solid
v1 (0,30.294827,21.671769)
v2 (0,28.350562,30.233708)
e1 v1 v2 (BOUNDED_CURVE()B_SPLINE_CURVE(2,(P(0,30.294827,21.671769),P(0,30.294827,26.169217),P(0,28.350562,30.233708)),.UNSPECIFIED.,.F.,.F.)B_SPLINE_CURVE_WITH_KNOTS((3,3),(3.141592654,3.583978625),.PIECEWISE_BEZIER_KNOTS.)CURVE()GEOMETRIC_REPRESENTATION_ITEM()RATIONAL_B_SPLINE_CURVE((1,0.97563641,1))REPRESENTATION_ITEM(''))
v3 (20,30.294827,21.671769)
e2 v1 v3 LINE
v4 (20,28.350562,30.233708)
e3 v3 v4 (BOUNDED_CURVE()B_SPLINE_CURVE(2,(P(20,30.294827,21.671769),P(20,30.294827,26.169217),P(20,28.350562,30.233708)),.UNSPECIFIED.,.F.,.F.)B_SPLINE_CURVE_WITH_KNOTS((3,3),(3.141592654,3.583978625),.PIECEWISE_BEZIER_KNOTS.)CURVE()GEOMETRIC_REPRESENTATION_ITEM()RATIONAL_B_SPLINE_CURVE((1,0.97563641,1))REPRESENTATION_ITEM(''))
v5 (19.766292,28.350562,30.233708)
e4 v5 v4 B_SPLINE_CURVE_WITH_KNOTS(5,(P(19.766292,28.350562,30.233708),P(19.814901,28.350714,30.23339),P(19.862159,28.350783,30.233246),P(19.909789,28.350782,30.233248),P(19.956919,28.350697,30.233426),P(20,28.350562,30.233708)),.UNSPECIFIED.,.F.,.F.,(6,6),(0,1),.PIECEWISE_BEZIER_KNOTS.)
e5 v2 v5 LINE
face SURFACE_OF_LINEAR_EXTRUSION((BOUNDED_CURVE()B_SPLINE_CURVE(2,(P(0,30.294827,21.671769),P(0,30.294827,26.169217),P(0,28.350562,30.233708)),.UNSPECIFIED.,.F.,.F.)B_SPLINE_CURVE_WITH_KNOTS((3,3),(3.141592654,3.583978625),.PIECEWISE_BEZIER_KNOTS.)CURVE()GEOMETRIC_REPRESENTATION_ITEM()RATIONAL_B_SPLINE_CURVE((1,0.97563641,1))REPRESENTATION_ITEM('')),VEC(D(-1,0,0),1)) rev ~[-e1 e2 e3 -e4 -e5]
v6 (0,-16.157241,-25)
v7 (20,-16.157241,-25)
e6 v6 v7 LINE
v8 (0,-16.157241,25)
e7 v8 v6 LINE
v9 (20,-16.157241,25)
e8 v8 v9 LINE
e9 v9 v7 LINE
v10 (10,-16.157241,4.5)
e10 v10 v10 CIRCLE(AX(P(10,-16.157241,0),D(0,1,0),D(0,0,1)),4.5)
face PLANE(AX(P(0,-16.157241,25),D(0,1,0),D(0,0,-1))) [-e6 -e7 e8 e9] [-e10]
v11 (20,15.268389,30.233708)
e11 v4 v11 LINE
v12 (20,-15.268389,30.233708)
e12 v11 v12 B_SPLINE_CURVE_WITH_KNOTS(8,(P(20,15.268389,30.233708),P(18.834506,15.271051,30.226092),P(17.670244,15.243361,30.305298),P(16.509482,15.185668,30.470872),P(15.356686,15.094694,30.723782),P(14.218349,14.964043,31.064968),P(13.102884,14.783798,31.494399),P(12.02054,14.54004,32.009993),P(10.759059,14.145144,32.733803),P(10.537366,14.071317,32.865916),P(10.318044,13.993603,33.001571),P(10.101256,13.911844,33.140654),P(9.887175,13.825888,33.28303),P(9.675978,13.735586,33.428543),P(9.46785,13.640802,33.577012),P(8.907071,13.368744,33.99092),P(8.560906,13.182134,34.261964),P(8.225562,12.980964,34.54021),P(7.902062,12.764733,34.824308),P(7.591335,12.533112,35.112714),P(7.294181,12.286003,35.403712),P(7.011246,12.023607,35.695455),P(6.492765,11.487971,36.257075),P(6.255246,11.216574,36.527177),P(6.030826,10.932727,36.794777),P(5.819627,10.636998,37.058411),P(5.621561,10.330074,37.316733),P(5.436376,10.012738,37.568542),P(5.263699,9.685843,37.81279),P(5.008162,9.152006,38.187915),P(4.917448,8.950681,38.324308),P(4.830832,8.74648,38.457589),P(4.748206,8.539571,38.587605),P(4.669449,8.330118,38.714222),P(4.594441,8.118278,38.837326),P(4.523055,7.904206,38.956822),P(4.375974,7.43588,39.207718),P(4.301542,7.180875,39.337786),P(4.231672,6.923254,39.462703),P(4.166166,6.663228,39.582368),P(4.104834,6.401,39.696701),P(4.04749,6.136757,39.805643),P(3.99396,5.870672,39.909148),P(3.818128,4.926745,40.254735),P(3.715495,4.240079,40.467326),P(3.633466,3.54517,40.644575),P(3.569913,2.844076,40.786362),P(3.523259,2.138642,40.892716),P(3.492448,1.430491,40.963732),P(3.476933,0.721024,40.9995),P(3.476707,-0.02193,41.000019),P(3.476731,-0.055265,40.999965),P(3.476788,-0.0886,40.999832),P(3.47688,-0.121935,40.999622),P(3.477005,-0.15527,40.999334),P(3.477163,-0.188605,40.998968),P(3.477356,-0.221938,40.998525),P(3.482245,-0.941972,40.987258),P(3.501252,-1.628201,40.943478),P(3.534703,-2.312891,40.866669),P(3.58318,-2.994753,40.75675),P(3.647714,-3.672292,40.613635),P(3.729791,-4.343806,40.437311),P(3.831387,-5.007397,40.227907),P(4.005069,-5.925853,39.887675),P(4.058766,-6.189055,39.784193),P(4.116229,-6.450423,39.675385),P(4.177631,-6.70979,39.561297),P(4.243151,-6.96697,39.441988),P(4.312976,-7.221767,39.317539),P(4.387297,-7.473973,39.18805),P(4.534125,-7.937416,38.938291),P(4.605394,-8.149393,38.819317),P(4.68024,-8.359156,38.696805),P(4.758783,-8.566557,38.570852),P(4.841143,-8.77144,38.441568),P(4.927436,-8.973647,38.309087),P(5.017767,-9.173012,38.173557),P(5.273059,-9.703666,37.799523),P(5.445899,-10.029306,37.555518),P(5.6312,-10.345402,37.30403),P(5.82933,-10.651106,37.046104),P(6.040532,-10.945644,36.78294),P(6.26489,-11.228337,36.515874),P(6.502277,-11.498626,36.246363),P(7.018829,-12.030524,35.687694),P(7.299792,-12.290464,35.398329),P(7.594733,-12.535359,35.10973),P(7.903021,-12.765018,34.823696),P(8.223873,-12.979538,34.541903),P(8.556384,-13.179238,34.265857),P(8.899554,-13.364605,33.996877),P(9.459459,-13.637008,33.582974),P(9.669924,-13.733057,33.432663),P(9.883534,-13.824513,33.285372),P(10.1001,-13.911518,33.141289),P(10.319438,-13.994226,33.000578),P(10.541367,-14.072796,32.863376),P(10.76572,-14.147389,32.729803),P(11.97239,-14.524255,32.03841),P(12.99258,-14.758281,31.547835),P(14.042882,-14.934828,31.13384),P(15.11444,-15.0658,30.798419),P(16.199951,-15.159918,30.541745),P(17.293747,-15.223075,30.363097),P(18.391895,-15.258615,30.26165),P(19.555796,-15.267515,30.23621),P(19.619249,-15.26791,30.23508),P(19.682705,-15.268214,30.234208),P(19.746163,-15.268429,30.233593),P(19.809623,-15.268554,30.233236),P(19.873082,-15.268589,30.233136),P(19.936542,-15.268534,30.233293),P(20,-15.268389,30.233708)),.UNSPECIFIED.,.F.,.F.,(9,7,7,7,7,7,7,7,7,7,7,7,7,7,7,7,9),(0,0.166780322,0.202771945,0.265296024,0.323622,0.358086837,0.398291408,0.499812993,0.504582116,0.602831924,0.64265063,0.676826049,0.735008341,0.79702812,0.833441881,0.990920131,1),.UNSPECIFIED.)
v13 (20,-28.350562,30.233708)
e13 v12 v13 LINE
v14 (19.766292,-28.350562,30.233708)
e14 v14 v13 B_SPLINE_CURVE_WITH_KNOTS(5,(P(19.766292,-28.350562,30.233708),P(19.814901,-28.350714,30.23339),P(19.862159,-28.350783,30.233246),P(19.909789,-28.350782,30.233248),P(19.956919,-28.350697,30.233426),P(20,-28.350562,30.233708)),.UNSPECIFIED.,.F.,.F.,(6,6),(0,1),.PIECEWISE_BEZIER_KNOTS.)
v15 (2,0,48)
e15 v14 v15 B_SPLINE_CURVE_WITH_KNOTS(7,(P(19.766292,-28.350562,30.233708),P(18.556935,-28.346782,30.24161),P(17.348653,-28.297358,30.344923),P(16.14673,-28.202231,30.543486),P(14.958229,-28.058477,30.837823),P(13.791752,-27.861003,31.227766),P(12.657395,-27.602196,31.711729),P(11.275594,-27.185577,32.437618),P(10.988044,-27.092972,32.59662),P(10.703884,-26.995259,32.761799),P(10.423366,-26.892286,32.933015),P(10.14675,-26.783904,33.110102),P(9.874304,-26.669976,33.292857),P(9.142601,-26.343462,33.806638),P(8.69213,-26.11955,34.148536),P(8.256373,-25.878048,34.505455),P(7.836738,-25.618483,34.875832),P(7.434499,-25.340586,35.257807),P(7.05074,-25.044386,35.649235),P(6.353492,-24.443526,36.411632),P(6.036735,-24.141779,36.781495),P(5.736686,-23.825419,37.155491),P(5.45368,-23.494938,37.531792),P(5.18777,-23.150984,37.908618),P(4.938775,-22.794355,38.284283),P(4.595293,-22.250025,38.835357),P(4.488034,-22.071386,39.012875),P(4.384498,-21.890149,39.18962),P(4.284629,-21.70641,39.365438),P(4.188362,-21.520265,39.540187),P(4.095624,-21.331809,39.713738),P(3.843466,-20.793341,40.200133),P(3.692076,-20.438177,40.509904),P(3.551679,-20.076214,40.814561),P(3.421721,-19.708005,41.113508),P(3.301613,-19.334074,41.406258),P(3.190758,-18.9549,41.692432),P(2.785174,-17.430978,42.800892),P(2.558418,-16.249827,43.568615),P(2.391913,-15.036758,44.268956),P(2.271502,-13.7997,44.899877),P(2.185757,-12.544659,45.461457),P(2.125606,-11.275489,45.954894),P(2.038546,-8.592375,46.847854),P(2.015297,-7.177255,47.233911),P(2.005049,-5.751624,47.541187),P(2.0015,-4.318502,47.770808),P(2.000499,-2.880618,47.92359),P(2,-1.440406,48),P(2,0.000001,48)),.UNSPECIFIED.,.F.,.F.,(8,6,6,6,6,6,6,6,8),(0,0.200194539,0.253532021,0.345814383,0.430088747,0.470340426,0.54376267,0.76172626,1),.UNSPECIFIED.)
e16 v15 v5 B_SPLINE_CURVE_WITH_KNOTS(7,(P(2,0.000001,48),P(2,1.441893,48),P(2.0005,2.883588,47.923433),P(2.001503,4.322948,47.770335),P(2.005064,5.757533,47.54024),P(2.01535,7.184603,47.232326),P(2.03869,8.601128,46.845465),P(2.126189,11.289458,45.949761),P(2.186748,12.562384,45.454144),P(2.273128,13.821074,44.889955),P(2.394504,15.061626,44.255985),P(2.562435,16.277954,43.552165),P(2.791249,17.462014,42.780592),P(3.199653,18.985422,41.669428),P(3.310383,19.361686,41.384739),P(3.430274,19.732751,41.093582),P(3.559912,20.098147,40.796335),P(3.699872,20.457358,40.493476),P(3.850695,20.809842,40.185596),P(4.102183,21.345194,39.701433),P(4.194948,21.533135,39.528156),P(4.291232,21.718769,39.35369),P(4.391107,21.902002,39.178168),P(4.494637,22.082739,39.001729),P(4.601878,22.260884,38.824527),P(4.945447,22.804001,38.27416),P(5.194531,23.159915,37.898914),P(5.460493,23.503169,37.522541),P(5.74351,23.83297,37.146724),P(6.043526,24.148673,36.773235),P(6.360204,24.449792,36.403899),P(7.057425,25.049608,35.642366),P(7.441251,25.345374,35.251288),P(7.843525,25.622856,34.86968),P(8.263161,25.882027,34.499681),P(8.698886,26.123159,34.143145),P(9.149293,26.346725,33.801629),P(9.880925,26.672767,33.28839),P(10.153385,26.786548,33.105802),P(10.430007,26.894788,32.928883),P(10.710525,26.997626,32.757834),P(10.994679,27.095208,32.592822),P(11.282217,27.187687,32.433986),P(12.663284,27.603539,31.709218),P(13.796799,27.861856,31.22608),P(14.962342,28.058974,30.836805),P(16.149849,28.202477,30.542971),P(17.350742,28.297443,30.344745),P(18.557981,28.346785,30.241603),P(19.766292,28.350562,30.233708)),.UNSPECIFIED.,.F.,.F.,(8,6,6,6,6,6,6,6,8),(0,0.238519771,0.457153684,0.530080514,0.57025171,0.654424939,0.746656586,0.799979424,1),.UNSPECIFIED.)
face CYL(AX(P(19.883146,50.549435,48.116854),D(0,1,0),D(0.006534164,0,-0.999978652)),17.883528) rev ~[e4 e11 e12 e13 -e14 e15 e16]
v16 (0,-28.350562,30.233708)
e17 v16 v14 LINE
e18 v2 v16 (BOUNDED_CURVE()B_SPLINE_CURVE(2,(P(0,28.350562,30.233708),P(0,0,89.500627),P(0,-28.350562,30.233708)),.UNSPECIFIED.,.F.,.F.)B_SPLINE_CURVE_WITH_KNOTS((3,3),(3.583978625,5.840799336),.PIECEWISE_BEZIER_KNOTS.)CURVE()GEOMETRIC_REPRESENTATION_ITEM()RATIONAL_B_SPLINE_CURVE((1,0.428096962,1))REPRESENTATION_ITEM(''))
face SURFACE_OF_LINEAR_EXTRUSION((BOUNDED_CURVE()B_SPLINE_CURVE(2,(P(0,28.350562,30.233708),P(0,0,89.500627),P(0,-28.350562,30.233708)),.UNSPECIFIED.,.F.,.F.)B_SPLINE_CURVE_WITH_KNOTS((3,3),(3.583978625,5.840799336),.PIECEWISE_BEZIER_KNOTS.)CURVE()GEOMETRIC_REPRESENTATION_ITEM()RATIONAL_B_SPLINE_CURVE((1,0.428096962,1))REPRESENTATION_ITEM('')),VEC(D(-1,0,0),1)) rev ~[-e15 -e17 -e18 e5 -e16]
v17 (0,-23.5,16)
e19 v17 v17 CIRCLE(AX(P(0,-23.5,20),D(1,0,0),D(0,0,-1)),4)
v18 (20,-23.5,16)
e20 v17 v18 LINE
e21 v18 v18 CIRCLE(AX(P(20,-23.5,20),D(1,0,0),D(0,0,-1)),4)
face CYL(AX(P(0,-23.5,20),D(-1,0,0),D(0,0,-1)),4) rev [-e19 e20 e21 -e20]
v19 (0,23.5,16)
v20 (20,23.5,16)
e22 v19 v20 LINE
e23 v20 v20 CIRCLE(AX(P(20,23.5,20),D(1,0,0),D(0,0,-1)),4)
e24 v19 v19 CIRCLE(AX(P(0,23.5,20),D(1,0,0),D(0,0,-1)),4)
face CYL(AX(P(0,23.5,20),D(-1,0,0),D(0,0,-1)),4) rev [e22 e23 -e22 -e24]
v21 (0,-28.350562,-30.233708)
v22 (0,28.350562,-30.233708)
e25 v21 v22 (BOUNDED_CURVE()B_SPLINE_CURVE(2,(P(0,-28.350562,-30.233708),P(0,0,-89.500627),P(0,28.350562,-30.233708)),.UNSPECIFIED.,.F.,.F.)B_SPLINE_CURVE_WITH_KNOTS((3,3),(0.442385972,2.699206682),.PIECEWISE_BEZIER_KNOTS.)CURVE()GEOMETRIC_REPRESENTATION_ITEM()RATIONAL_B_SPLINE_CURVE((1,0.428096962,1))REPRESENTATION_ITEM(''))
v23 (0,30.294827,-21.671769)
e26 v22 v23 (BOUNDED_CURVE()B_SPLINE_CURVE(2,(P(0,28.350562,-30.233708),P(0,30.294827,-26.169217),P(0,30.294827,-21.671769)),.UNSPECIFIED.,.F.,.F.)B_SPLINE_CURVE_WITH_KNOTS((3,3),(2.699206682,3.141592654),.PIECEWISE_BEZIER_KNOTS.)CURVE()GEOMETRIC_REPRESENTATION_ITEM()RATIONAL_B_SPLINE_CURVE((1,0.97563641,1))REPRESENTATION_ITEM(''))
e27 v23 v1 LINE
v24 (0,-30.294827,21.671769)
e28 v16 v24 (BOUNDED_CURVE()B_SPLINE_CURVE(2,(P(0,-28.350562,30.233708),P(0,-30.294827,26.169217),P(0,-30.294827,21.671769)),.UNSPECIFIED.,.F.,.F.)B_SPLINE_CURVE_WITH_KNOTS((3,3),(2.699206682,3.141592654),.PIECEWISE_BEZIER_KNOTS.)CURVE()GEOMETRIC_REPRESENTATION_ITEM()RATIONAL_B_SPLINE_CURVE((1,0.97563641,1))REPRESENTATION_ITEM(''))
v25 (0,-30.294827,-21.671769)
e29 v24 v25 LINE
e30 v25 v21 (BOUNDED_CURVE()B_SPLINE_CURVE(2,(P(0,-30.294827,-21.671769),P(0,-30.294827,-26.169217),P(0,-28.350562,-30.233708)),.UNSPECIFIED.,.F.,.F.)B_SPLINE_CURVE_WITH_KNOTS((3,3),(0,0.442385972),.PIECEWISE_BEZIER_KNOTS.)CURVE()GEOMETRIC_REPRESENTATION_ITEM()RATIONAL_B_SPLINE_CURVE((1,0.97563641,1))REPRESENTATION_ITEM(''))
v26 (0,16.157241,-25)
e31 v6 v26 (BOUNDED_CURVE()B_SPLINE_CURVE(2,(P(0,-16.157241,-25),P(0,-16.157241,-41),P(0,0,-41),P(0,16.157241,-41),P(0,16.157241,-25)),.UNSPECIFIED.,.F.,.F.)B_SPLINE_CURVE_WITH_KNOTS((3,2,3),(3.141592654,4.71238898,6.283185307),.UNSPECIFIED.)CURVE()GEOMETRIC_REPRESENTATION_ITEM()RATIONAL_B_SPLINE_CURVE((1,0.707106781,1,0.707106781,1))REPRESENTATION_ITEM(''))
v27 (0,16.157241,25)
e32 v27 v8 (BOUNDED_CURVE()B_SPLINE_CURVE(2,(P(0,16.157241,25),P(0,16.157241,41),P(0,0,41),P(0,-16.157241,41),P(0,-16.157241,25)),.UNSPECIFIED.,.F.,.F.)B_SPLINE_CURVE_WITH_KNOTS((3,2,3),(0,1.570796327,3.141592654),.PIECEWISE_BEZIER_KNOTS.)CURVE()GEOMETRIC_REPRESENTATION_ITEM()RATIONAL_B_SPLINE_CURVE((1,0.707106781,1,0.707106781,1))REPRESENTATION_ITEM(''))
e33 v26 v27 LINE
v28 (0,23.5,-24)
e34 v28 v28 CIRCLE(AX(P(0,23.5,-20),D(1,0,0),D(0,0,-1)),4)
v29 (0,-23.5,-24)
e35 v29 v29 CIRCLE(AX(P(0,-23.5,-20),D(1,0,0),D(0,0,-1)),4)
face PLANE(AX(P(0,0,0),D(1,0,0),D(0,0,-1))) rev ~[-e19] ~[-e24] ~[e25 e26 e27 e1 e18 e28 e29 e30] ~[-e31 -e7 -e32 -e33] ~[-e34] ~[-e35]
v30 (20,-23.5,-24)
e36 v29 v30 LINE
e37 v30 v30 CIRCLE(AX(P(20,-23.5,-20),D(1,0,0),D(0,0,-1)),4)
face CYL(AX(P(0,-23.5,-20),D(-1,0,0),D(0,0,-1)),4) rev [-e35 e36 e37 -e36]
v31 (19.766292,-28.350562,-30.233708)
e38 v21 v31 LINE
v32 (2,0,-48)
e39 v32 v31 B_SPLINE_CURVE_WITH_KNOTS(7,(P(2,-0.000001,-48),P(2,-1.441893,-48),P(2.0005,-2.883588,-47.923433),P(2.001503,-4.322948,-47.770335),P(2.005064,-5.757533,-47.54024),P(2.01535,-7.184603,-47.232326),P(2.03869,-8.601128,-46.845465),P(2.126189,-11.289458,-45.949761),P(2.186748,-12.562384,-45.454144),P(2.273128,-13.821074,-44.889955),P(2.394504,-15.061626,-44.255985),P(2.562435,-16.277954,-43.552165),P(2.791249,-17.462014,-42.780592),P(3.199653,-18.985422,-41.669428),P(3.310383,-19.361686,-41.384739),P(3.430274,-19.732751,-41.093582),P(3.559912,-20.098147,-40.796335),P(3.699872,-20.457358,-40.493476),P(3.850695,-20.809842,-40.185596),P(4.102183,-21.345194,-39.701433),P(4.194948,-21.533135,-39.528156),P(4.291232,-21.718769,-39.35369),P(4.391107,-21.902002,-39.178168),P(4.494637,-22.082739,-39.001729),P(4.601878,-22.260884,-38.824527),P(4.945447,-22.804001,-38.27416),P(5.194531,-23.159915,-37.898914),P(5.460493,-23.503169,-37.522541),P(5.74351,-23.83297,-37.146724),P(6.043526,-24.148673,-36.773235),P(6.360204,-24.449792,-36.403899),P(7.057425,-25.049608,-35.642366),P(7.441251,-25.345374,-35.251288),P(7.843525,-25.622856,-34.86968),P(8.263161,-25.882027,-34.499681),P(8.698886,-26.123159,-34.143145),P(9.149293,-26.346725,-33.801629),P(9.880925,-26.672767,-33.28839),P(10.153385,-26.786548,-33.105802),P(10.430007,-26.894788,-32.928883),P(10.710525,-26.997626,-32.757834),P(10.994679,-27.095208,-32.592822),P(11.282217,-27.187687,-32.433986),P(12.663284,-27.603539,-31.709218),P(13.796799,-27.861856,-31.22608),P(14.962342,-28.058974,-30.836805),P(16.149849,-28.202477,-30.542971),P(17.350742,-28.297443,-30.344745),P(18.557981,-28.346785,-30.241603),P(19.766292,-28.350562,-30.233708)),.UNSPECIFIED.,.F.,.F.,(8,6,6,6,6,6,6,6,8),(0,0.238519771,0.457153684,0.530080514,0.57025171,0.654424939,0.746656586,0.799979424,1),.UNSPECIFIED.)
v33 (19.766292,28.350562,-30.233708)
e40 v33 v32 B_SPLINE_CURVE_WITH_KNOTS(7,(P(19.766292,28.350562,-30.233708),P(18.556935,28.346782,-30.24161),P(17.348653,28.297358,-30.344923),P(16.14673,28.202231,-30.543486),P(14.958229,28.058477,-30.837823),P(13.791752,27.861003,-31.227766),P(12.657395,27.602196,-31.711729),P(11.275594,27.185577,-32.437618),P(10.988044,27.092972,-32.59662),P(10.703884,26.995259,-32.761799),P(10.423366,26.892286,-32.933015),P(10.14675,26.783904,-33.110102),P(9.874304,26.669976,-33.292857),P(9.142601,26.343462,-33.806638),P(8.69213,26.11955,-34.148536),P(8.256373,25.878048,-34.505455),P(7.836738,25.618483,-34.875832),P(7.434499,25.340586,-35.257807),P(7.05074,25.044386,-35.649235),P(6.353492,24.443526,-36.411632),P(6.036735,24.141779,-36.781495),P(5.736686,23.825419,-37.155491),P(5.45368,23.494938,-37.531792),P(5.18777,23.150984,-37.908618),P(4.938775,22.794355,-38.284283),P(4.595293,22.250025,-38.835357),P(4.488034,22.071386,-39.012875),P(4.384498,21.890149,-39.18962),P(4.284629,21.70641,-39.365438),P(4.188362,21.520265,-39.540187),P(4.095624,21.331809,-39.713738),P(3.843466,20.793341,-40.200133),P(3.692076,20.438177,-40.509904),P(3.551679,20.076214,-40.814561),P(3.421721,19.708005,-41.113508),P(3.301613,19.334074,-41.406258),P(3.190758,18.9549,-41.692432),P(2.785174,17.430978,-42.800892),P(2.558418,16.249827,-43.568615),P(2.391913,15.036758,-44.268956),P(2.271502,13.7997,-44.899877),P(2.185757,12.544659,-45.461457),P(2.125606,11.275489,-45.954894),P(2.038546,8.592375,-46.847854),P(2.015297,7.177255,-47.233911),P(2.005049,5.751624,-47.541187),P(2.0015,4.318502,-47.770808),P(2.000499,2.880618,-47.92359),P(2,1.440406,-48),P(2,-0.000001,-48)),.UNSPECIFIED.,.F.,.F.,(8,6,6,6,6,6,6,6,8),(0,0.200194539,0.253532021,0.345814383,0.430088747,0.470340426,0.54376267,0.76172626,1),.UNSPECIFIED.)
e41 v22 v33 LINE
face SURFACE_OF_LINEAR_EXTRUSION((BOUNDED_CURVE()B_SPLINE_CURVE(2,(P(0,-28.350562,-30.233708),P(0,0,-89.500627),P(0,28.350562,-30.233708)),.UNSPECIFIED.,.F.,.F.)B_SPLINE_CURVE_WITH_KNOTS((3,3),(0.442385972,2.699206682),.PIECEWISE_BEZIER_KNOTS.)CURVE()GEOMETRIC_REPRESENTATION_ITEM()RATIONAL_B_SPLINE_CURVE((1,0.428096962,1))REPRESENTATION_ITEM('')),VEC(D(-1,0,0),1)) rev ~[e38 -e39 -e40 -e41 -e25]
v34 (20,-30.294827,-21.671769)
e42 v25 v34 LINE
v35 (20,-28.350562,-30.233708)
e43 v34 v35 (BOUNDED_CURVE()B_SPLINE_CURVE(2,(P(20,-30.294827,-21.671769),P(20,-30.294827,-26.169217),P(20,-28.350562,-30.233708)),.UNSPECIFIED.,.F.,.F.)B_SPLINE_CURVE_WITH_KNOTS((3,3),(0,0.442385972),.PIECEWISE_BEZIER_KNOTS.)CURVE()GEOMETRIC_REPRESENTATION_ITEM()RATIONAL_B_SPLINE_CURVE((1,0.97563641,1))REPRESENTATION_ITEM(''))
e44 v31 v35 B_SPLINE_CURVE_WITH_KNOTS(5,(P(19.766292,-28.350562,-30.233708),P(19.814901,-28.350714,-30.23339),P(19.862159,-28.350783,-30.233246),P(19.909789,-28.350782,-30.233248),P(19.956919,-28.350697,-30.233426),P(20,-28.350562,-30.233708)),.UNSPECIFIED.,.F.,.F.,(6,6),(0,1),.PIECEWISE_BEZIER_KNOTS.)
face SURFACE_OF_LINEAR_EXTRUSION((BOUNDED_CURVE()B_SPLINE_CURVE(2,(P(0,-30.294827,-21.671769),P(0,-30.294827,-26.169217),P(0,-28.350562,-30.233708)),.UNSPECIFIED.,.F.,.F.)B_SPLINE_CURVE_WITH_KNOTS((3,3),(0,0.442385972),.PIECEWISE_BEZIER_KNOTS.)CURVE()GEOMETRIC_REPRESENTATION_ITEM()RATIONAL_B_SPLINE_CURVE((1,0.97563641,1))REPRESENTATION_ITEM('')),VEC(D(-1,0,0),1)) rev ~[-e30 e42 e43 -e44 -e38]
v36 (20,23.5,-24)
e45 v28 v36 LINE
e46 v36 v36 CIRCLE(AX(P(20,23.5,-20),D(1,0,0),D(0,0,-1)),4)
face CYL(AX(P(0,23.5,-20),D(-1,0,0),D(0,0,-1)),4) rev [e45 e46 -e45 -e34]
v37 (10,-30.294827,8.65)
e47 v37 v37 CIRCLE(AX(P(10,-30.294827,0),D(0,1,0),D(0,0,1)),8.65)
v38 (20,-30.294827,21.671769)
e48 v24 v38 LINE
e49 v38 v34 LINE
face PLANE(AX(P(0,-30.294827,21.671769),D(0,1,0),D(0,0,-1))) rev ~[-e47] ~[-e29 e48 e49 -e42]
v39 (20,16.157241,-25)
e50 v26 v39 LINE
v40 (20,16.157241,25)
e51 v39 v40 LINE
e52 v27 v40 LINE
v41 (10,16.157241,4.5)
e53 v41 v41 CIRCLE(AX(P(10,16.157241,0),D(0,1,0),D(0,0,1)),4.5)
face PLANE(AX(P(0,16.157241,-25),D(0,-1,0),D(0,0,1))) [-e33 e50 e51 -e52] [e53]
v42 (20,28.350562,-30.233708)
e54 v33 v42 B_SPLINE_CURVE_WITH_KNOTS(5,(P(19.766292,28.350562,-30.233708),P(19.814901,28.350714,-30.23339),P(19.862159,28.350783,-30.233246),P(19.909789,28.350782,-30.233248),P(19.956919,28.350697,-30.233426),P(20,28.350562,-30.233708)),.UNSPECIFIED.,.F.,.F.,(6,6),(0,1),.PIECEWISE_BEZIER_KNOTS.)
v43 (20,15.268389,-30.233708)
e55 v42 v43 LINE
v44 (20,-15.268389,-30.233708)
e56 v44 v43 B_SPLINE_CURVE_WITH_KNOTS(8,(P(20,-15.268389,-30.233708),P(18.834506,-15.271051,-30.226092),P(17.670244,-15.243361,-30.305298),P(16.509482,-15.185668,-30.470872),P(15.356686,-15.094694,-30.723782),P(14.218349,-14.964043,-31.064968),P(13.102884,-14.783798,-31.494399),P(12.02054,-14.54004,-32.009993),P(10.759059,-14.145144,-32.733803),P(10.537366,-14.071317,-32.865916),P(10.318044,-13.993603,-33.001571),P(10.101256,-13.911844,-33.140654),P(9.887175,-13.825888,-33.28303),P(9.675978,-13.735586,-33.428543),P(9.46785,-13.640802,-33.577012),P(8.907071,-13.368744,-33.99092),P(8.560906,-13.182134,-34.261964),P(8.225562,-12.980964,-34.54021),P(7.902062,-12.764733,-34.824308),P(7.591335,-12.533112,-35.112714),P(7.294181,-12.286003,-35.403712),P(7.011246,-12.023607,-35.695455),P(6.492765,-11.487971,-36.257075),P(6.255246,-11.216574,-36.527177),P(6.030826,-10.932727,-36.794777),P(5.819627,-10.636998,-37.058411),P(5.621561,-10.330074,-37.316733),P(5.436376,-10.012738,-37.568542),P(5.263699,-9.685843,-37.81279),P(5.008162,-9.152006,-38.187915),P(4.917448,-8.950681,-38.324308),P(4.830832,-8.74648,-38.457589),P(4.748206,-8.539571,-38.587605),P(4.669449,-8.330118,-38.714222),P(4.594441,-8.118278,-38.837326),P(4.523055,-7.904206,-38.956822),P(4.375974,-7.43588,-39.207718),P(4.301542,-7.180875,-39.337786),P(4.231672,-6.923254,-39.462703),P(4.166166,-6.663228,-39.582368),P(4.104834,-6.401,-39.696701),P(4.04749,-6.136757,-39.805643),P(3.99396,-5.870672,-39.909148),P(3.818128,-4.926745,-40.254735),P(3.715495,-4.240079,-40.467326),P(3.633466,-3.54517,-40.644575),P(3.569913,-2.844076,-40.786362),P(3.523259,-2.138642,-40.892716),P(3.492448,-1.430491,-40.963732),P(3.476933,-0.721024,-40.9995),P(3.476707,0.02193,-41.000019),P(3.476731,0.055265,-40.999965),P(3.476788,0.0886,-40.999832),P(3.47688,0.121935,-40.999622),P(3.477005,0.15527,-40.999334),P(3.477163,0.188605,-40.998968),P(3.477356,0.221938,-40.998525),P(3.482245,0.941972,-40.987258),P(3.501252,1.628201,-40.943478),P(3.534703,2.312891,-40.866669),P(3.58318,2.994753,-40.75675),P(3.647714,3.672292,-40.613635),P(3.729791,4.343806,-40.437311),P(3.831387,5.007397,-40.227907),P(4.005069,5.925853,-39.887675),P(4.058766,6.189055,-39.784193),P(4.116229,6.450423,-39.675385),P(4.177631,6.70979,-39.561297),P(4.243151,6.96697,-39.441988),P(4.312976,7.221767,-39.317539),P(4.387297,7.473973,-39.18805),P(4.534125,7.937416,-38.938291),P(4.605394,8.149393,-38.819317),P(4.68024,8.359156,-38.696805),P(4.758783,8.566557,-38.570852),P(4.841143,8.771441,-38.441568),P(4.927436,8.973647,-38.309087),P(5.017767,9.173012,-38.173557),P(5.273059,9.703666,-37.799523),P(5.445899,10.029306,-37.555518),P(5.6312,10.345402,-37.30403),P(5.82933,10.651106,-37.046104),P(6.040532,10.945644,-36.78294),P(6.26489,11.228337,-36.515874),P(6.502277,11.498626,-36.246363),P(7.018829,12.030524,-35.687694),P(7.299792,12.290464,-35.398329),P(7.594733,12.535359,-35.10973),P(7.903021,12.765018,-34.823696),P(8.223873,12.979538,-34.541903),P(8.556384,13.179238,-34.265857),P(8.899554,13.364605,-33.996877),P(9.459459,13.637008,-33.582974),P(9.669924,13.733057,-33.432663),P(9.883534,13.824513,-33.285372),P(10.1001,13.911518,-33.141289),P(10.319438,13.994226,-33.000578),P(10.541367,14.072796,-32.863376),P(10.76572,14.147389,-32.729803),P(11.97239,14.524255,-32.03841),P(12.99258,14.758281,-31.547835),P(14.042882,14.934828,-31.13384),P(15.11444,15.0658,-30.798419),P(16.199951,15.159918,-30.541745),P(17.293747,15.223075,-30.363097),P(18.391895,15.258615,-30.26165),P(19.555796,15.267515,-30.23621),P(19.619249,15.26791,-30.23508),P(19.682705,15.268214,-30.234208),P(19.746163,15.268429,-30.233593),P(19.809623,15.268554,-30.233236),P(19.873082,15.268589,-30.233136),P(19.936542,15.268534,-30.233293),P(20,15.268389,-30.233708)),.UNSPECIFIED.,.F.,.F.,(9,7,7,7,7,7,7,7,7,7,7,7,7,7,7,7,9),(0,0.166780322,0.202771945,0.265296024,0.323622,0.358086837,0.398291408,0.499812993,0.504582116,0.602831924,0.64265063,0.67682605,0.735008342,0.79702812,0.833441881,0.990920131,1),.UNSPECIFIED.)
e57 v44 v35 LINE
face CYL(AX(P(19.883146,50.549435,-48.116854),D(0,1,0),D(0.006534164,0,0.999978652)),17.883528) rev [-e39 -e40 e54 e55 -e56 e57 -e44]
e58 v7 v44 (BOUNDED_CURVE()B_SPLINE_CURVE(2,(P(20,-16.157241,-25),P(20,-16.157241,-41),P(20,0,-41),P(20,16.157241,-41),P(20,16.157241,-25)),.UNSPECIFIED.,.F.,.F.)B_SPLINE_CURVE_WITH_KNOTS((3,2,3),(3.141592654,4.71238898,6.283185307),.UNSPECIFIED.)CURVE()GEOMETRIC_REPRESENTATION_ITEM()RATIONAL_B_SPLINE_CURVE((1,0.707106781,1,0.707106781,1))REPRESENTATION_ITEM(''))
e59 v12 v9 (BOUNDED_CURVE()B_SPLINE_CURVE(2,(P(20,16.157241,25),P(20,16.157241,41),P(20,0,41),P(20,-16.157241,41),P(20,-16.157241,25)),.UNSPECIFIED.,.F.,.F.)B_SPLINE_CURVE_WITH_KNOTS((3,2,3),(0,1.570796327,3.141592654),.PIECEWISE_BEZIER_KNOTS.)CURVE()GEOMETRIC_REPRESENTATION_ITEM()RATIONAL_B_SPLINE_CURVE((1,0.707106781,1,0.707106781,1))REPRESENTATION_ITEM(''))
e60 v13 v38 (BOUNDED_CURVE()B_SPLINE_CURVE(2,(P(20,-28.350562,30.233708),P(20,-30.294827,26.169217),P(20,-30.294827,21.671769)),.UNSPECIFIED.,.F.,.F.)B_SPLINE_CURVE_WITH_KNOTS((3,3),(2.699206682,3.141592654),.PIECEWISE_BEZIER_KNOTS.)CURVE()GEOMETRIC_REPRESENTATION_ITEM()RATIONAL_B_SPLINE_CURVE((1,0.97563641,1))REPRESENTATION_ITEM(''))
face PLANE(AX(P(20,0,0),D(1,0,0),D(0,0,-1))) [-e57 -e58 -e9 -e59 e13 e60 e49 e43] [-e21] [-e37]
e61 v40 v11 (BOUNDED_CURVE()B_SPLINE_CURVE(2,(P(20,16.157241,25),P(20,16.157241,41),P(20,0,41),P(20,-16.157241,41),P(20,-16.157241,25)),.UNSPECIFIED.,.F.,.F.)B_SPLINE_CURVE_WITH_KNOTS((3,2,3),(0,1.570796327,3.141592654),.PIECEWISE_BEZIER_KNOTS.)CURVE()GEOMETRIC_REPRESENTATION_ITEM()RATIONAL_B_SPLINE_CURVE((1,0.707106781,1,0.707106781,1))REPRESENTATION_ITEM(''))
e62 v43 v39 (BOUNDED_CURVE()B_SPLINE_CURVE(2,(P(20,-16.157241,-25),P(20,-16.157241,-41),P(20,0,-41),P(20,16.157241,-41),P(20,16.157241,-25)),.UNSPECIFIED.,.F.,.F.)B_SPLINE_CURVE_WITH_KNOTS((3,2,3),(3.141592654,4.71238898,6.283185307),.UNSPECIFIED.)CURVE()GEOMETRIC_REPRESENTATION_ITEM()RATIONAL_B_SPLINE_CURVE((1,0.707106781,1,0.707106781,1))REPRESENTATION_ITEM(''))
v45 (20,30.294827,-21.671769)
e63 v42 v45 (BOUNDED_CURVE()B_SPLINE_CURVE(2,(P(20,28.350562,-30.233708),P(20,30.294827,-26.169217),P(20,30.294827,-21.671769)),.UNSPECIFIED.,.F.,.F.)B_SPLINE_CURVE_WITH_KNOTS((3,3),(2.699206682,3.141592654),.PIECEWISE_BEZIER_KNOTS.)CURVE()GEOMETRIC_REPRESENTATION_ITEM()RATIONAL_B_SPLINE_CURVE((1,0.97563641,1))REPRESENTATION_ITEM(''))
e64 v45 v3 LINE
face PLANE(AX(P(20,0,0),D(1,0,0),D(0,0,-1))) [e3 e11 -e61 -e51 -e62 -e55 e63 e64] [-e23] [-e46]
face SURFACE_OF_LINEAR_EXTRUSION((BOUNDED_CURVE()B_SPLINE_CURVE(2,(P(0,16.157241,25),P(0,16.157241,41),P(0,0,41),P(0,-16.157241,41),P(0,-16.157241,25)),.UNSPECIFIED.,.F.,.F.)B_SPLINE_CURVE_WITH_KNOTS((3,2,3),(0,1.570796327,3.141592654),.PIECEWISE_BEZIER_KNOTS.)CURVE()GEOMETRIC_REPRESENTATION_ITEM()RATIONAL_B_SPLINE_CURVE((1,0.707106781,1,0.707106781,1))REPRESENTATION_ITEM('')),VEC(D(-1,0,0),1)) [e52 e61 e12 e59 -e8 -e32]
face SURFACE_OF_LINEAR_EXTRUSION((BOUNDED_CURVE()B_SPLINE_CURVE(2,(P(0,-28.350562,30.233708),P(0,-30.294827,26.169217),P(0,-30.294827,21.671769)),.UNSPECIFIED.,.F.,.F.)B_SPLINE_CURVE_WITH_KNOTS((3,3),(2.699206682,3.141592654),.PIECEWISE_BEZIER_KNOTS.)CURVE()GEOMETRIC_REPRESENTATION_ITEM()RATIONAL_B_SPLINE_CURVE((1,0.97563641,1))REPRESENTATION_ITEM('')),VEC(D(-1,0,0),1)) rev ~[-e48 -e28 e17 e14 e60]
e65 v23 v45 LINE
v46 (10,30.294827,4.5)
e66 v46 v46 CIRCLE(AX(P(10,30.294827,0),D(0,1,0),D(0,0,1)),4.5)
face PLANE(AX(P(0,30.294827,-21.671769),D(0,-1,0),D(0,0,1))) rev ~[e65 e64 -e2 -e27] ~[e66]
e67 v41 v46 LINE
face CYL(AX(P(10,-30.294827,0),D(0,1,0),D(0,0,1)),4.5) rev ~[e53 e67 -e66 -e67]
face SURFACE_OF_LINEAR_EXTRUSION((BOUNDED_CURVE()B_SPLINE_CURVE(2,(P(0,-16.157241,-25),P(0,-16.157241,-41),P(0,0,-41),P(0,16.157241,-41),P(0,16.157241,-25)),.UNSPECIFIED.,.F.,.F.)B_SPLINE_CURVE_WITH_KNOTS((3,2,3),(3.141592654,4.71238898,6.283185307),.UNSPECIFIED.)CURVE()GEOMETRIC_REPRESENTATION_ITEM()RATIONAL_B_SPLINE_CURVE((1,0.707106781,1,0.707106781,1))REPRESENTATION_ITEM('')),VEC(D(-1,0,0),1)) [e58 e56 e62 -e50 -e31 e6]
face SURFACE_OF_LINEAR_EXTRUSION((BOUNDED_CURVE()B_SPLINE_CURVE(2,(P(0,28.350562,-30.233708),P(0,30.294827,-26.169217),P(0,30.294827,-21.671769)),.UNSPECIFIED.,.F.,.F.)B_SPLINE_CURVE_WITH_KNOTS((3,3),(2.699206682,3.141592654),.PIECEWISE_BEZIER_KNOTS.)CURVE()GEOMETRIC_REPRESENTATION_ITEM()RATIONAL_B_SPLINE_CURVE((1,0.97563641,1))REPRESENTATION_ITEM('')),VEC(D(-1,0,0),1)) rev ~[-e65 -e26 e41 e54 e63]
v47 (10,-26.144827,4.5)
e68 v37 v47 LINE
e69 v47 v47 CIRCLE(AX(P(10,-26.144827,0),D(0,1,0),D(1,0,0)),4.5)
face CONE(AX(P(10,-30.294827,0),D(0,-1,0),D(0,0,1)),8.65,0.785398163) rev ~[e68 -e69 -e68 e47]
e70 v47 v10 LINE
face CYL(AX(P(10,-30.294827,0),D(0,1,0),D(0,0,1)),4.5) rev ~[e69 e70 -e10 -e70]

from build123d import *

# Parameters (mm, degrees)
SZKIC1_R                                         = 4
DODANIE_WYCI_GNI_CIE1_DEPTH                      = 20
WYTNIJ_WYCI_GNI_CIE4_DEPTH                       = 80.844262412
WYTNIJ_WYCI_GNI_CIE4_DEPTH_BACK                  = 80.844262412
POG_BIENIE_STO_KOWE_POD_M8_RUB_Z_BEM_D           = 9
POG_BIENIE_STO_KOWE_POD_M8_RUB_Z_BEM_CSINK_D     = 17.3
POG_BIENIE_STO_KOWE_POD_M8_RUB_Z_BEM_CSINK_ANGLE = 90


with BuildPart() as part:
    # Szkic1 → Dodanie-wyciągnięcie1 (new body)
    with BuildSketch(Plane(origin=(0, 0, 0), x_dir=(0, 0, -1), z_dir=(1, 0, 0))):
        with BuildLine():
            add(Edge.make_bspline(
                [(-21.671768561, 30.294827176), (-26.169216525, 30.294827176), (-30.233707808, 28.350561908)],
                knots=[3.141592654, 3.141592654, 3.141592654, 3.583978625, 3.583978625, 3.583978625], degree=2, weights=[1, 0.97563641, 1]))
            add(Edge.make_bspline(
                [(-30.233707808, 28.350561908), (-89.500626622, 0), (-30.233707808, -28.350561908)],
                knots=[3.583978625, 3.583978625, 3.583978625, 5.840799336, 5.840799336, 5.840799336], degree=2, weights=[1, 0.428096962, 1]))
            add(Edge.make_bspline(
                [(-30.233707808, -28.350561908), (-26.169216525, -30.294827176), (-21.671768561, -30.294827176)],
                knots=[2.699206682, 2.699206682, 2.699206682, 3.141592654, 3.141592654, 3.141592654], degree=2, weights=[1, 0.97563641, 1]))
            Line((-21.671768561, -30.294827176), (21.671768561, -30.294827176))
            add(Edge.make_bspline(
                [(21.671768561, -30.294827176), (26.169216525, -30.294827176), (30.233707808, -28.350561908)],
                knots=[0, 0, 0, 0.442385972, 0.442385972, 0.442385972], degree=2, weights=[1, 0.97563641, 1]))
            add(Edge.make_bspline(
                [(30.233707808, -28.350561908), (89.500626622, 0), (30.233707808, 28.350561908)],
                knots=[0.442385972, 0.442385972, 0.442385972, 2.699206682, 2.699206682, 2.699206682], degree=2, weights=[1, 0.428096962, 1]))
            add(Edge.make_bspline(
                [(30.233707808, 28.350561908), (26.169216525, 30.294827176), (21.671768561, 30.294827176)],
                knots=[2.699206682, 2.699206682, 2.699206682, 3.141592654, 3.141592654, 3.141592654], degree=2, weights=[1, 0.97563641, 1]))
            Line((21.671768561, 30.294827176), (-21.671768561, 30.294827176))
        make_face()
        with Locations((-20, 23.5)):
            Circle(SZKIC1_R, mode=Mode.SUBTRACT)
        with Locations((20, 23.5)):
            Circle(SZKIC1_R, mode=Mode.SUBTRACT)
        with Locations((-20, -23.5)):
            Circle(SZKIC1_R, mode=Mode.SUBTRACT)
        with Locations((20, -23.5)):
            Circle(SZKIC1_R, mode=Mode.SUBTRACT)
        with BuildLine():
            add(Edge.make_bspline(
                [(25, -16.15724116), (41, -16.15724116), (41, 0), (41, 16.15724116), (25, 16.15724116)],
                knots=[3.141592654, 3.141592654, 3.141592654, 4.71238898, 4.71238898, 6.283185307, 6.283185307, 6.283185307], degree=2, weights=[1, 0.707106781, 1, 0.707106781, 1]))
            Line((25, 16.15724116), (-25, 16.15724116))
            add(Edge.make_bspline(
                [(-25, 16.15724116), (-41, 16.15724116), (-41, 0), (-41, -16.15724116), (-25, -16.15724116)],
                knots=[0, 0, 0, 1.570796327, 1.570796327, 3.141592654, 3.141592654, 3.141592654], degree=2, weights=[1, 0.707106781, 1, 0.707106781, 1]))
            Line((-25, -16.15724116), (25, -16.15724116))
        make_face(mode=Mode.SUBTRACT)
    extrude(amount=DODANIE_WYCI_GNI_CIE1_DEPTH)

    # Szkic2 → Wytnij-wyciągnięcie4 (cut, two sides: drawn at the far end of the back side and taken through both)
    with BuildSketch(Plane.XZ.offset(30.294827176).offset(-WYTNIJ_WYCI_GNI_CIE4_DEPTH_BACK)):
        with BuildLine():
            Line((2, 48), (2, 49.871745004))
            Line((2, 49.871745004), (22.127967947, 49.871745004))
            Line((22.127967947, 49.871745004), (22.127967947, 30.233707808))
            Line((22.127967947, 30.233707808), (20, 30.233707808))
            ThreePointArc((20, 30.233707808), (7.320480411, 35.388931843), (2, 48))
        make_face()
        with BuildLine():
            Line((22.127967947, -30.233707808), (20, -30.233707808))
            ThreePointArc((20, -30.233707808), (7.320480411, -35.388931843), (2, -48))
            Line((2, -48), (2, -49.871745004))
            Line((2, -49.871745004), (22.127967947, -49.871745004))
            Line((22.127967947, -49.871745004), (22.127967947, -30.233707808))
        make_face()
    extrude(amount=WYTNIJ_WYCI_GNI_CIE4_DEPTH + WYTNIJ_WYCI_GNI_CIE4_DEPTH_BACK, mode=Mode.SUBTRACT)

    # Pogłębienie stożkowe pod M8 Śrubę z łbem soczewkowym1 (through all)
    with Locations(Plane(origin=(10, -30.294827176, 0), x_dir=(0, 0, -1), z_dir=(0, -1, 0))):
        with Locations((0, 0)):
            CounterSinkHole(POG_BIENIE_STO_KOWE_POD_M8_RUB_Z_BEM_D / 2, POG_BIENIE_STO_KOWE_POD_M8_RUB_Z_BEM_CSINK_D / 2, counter_sink_angle=POG_BIENIE_STO_KOWE_POD_M8_RUB_Z_BEM_CSINK_ANGLE)


solid = part.part
